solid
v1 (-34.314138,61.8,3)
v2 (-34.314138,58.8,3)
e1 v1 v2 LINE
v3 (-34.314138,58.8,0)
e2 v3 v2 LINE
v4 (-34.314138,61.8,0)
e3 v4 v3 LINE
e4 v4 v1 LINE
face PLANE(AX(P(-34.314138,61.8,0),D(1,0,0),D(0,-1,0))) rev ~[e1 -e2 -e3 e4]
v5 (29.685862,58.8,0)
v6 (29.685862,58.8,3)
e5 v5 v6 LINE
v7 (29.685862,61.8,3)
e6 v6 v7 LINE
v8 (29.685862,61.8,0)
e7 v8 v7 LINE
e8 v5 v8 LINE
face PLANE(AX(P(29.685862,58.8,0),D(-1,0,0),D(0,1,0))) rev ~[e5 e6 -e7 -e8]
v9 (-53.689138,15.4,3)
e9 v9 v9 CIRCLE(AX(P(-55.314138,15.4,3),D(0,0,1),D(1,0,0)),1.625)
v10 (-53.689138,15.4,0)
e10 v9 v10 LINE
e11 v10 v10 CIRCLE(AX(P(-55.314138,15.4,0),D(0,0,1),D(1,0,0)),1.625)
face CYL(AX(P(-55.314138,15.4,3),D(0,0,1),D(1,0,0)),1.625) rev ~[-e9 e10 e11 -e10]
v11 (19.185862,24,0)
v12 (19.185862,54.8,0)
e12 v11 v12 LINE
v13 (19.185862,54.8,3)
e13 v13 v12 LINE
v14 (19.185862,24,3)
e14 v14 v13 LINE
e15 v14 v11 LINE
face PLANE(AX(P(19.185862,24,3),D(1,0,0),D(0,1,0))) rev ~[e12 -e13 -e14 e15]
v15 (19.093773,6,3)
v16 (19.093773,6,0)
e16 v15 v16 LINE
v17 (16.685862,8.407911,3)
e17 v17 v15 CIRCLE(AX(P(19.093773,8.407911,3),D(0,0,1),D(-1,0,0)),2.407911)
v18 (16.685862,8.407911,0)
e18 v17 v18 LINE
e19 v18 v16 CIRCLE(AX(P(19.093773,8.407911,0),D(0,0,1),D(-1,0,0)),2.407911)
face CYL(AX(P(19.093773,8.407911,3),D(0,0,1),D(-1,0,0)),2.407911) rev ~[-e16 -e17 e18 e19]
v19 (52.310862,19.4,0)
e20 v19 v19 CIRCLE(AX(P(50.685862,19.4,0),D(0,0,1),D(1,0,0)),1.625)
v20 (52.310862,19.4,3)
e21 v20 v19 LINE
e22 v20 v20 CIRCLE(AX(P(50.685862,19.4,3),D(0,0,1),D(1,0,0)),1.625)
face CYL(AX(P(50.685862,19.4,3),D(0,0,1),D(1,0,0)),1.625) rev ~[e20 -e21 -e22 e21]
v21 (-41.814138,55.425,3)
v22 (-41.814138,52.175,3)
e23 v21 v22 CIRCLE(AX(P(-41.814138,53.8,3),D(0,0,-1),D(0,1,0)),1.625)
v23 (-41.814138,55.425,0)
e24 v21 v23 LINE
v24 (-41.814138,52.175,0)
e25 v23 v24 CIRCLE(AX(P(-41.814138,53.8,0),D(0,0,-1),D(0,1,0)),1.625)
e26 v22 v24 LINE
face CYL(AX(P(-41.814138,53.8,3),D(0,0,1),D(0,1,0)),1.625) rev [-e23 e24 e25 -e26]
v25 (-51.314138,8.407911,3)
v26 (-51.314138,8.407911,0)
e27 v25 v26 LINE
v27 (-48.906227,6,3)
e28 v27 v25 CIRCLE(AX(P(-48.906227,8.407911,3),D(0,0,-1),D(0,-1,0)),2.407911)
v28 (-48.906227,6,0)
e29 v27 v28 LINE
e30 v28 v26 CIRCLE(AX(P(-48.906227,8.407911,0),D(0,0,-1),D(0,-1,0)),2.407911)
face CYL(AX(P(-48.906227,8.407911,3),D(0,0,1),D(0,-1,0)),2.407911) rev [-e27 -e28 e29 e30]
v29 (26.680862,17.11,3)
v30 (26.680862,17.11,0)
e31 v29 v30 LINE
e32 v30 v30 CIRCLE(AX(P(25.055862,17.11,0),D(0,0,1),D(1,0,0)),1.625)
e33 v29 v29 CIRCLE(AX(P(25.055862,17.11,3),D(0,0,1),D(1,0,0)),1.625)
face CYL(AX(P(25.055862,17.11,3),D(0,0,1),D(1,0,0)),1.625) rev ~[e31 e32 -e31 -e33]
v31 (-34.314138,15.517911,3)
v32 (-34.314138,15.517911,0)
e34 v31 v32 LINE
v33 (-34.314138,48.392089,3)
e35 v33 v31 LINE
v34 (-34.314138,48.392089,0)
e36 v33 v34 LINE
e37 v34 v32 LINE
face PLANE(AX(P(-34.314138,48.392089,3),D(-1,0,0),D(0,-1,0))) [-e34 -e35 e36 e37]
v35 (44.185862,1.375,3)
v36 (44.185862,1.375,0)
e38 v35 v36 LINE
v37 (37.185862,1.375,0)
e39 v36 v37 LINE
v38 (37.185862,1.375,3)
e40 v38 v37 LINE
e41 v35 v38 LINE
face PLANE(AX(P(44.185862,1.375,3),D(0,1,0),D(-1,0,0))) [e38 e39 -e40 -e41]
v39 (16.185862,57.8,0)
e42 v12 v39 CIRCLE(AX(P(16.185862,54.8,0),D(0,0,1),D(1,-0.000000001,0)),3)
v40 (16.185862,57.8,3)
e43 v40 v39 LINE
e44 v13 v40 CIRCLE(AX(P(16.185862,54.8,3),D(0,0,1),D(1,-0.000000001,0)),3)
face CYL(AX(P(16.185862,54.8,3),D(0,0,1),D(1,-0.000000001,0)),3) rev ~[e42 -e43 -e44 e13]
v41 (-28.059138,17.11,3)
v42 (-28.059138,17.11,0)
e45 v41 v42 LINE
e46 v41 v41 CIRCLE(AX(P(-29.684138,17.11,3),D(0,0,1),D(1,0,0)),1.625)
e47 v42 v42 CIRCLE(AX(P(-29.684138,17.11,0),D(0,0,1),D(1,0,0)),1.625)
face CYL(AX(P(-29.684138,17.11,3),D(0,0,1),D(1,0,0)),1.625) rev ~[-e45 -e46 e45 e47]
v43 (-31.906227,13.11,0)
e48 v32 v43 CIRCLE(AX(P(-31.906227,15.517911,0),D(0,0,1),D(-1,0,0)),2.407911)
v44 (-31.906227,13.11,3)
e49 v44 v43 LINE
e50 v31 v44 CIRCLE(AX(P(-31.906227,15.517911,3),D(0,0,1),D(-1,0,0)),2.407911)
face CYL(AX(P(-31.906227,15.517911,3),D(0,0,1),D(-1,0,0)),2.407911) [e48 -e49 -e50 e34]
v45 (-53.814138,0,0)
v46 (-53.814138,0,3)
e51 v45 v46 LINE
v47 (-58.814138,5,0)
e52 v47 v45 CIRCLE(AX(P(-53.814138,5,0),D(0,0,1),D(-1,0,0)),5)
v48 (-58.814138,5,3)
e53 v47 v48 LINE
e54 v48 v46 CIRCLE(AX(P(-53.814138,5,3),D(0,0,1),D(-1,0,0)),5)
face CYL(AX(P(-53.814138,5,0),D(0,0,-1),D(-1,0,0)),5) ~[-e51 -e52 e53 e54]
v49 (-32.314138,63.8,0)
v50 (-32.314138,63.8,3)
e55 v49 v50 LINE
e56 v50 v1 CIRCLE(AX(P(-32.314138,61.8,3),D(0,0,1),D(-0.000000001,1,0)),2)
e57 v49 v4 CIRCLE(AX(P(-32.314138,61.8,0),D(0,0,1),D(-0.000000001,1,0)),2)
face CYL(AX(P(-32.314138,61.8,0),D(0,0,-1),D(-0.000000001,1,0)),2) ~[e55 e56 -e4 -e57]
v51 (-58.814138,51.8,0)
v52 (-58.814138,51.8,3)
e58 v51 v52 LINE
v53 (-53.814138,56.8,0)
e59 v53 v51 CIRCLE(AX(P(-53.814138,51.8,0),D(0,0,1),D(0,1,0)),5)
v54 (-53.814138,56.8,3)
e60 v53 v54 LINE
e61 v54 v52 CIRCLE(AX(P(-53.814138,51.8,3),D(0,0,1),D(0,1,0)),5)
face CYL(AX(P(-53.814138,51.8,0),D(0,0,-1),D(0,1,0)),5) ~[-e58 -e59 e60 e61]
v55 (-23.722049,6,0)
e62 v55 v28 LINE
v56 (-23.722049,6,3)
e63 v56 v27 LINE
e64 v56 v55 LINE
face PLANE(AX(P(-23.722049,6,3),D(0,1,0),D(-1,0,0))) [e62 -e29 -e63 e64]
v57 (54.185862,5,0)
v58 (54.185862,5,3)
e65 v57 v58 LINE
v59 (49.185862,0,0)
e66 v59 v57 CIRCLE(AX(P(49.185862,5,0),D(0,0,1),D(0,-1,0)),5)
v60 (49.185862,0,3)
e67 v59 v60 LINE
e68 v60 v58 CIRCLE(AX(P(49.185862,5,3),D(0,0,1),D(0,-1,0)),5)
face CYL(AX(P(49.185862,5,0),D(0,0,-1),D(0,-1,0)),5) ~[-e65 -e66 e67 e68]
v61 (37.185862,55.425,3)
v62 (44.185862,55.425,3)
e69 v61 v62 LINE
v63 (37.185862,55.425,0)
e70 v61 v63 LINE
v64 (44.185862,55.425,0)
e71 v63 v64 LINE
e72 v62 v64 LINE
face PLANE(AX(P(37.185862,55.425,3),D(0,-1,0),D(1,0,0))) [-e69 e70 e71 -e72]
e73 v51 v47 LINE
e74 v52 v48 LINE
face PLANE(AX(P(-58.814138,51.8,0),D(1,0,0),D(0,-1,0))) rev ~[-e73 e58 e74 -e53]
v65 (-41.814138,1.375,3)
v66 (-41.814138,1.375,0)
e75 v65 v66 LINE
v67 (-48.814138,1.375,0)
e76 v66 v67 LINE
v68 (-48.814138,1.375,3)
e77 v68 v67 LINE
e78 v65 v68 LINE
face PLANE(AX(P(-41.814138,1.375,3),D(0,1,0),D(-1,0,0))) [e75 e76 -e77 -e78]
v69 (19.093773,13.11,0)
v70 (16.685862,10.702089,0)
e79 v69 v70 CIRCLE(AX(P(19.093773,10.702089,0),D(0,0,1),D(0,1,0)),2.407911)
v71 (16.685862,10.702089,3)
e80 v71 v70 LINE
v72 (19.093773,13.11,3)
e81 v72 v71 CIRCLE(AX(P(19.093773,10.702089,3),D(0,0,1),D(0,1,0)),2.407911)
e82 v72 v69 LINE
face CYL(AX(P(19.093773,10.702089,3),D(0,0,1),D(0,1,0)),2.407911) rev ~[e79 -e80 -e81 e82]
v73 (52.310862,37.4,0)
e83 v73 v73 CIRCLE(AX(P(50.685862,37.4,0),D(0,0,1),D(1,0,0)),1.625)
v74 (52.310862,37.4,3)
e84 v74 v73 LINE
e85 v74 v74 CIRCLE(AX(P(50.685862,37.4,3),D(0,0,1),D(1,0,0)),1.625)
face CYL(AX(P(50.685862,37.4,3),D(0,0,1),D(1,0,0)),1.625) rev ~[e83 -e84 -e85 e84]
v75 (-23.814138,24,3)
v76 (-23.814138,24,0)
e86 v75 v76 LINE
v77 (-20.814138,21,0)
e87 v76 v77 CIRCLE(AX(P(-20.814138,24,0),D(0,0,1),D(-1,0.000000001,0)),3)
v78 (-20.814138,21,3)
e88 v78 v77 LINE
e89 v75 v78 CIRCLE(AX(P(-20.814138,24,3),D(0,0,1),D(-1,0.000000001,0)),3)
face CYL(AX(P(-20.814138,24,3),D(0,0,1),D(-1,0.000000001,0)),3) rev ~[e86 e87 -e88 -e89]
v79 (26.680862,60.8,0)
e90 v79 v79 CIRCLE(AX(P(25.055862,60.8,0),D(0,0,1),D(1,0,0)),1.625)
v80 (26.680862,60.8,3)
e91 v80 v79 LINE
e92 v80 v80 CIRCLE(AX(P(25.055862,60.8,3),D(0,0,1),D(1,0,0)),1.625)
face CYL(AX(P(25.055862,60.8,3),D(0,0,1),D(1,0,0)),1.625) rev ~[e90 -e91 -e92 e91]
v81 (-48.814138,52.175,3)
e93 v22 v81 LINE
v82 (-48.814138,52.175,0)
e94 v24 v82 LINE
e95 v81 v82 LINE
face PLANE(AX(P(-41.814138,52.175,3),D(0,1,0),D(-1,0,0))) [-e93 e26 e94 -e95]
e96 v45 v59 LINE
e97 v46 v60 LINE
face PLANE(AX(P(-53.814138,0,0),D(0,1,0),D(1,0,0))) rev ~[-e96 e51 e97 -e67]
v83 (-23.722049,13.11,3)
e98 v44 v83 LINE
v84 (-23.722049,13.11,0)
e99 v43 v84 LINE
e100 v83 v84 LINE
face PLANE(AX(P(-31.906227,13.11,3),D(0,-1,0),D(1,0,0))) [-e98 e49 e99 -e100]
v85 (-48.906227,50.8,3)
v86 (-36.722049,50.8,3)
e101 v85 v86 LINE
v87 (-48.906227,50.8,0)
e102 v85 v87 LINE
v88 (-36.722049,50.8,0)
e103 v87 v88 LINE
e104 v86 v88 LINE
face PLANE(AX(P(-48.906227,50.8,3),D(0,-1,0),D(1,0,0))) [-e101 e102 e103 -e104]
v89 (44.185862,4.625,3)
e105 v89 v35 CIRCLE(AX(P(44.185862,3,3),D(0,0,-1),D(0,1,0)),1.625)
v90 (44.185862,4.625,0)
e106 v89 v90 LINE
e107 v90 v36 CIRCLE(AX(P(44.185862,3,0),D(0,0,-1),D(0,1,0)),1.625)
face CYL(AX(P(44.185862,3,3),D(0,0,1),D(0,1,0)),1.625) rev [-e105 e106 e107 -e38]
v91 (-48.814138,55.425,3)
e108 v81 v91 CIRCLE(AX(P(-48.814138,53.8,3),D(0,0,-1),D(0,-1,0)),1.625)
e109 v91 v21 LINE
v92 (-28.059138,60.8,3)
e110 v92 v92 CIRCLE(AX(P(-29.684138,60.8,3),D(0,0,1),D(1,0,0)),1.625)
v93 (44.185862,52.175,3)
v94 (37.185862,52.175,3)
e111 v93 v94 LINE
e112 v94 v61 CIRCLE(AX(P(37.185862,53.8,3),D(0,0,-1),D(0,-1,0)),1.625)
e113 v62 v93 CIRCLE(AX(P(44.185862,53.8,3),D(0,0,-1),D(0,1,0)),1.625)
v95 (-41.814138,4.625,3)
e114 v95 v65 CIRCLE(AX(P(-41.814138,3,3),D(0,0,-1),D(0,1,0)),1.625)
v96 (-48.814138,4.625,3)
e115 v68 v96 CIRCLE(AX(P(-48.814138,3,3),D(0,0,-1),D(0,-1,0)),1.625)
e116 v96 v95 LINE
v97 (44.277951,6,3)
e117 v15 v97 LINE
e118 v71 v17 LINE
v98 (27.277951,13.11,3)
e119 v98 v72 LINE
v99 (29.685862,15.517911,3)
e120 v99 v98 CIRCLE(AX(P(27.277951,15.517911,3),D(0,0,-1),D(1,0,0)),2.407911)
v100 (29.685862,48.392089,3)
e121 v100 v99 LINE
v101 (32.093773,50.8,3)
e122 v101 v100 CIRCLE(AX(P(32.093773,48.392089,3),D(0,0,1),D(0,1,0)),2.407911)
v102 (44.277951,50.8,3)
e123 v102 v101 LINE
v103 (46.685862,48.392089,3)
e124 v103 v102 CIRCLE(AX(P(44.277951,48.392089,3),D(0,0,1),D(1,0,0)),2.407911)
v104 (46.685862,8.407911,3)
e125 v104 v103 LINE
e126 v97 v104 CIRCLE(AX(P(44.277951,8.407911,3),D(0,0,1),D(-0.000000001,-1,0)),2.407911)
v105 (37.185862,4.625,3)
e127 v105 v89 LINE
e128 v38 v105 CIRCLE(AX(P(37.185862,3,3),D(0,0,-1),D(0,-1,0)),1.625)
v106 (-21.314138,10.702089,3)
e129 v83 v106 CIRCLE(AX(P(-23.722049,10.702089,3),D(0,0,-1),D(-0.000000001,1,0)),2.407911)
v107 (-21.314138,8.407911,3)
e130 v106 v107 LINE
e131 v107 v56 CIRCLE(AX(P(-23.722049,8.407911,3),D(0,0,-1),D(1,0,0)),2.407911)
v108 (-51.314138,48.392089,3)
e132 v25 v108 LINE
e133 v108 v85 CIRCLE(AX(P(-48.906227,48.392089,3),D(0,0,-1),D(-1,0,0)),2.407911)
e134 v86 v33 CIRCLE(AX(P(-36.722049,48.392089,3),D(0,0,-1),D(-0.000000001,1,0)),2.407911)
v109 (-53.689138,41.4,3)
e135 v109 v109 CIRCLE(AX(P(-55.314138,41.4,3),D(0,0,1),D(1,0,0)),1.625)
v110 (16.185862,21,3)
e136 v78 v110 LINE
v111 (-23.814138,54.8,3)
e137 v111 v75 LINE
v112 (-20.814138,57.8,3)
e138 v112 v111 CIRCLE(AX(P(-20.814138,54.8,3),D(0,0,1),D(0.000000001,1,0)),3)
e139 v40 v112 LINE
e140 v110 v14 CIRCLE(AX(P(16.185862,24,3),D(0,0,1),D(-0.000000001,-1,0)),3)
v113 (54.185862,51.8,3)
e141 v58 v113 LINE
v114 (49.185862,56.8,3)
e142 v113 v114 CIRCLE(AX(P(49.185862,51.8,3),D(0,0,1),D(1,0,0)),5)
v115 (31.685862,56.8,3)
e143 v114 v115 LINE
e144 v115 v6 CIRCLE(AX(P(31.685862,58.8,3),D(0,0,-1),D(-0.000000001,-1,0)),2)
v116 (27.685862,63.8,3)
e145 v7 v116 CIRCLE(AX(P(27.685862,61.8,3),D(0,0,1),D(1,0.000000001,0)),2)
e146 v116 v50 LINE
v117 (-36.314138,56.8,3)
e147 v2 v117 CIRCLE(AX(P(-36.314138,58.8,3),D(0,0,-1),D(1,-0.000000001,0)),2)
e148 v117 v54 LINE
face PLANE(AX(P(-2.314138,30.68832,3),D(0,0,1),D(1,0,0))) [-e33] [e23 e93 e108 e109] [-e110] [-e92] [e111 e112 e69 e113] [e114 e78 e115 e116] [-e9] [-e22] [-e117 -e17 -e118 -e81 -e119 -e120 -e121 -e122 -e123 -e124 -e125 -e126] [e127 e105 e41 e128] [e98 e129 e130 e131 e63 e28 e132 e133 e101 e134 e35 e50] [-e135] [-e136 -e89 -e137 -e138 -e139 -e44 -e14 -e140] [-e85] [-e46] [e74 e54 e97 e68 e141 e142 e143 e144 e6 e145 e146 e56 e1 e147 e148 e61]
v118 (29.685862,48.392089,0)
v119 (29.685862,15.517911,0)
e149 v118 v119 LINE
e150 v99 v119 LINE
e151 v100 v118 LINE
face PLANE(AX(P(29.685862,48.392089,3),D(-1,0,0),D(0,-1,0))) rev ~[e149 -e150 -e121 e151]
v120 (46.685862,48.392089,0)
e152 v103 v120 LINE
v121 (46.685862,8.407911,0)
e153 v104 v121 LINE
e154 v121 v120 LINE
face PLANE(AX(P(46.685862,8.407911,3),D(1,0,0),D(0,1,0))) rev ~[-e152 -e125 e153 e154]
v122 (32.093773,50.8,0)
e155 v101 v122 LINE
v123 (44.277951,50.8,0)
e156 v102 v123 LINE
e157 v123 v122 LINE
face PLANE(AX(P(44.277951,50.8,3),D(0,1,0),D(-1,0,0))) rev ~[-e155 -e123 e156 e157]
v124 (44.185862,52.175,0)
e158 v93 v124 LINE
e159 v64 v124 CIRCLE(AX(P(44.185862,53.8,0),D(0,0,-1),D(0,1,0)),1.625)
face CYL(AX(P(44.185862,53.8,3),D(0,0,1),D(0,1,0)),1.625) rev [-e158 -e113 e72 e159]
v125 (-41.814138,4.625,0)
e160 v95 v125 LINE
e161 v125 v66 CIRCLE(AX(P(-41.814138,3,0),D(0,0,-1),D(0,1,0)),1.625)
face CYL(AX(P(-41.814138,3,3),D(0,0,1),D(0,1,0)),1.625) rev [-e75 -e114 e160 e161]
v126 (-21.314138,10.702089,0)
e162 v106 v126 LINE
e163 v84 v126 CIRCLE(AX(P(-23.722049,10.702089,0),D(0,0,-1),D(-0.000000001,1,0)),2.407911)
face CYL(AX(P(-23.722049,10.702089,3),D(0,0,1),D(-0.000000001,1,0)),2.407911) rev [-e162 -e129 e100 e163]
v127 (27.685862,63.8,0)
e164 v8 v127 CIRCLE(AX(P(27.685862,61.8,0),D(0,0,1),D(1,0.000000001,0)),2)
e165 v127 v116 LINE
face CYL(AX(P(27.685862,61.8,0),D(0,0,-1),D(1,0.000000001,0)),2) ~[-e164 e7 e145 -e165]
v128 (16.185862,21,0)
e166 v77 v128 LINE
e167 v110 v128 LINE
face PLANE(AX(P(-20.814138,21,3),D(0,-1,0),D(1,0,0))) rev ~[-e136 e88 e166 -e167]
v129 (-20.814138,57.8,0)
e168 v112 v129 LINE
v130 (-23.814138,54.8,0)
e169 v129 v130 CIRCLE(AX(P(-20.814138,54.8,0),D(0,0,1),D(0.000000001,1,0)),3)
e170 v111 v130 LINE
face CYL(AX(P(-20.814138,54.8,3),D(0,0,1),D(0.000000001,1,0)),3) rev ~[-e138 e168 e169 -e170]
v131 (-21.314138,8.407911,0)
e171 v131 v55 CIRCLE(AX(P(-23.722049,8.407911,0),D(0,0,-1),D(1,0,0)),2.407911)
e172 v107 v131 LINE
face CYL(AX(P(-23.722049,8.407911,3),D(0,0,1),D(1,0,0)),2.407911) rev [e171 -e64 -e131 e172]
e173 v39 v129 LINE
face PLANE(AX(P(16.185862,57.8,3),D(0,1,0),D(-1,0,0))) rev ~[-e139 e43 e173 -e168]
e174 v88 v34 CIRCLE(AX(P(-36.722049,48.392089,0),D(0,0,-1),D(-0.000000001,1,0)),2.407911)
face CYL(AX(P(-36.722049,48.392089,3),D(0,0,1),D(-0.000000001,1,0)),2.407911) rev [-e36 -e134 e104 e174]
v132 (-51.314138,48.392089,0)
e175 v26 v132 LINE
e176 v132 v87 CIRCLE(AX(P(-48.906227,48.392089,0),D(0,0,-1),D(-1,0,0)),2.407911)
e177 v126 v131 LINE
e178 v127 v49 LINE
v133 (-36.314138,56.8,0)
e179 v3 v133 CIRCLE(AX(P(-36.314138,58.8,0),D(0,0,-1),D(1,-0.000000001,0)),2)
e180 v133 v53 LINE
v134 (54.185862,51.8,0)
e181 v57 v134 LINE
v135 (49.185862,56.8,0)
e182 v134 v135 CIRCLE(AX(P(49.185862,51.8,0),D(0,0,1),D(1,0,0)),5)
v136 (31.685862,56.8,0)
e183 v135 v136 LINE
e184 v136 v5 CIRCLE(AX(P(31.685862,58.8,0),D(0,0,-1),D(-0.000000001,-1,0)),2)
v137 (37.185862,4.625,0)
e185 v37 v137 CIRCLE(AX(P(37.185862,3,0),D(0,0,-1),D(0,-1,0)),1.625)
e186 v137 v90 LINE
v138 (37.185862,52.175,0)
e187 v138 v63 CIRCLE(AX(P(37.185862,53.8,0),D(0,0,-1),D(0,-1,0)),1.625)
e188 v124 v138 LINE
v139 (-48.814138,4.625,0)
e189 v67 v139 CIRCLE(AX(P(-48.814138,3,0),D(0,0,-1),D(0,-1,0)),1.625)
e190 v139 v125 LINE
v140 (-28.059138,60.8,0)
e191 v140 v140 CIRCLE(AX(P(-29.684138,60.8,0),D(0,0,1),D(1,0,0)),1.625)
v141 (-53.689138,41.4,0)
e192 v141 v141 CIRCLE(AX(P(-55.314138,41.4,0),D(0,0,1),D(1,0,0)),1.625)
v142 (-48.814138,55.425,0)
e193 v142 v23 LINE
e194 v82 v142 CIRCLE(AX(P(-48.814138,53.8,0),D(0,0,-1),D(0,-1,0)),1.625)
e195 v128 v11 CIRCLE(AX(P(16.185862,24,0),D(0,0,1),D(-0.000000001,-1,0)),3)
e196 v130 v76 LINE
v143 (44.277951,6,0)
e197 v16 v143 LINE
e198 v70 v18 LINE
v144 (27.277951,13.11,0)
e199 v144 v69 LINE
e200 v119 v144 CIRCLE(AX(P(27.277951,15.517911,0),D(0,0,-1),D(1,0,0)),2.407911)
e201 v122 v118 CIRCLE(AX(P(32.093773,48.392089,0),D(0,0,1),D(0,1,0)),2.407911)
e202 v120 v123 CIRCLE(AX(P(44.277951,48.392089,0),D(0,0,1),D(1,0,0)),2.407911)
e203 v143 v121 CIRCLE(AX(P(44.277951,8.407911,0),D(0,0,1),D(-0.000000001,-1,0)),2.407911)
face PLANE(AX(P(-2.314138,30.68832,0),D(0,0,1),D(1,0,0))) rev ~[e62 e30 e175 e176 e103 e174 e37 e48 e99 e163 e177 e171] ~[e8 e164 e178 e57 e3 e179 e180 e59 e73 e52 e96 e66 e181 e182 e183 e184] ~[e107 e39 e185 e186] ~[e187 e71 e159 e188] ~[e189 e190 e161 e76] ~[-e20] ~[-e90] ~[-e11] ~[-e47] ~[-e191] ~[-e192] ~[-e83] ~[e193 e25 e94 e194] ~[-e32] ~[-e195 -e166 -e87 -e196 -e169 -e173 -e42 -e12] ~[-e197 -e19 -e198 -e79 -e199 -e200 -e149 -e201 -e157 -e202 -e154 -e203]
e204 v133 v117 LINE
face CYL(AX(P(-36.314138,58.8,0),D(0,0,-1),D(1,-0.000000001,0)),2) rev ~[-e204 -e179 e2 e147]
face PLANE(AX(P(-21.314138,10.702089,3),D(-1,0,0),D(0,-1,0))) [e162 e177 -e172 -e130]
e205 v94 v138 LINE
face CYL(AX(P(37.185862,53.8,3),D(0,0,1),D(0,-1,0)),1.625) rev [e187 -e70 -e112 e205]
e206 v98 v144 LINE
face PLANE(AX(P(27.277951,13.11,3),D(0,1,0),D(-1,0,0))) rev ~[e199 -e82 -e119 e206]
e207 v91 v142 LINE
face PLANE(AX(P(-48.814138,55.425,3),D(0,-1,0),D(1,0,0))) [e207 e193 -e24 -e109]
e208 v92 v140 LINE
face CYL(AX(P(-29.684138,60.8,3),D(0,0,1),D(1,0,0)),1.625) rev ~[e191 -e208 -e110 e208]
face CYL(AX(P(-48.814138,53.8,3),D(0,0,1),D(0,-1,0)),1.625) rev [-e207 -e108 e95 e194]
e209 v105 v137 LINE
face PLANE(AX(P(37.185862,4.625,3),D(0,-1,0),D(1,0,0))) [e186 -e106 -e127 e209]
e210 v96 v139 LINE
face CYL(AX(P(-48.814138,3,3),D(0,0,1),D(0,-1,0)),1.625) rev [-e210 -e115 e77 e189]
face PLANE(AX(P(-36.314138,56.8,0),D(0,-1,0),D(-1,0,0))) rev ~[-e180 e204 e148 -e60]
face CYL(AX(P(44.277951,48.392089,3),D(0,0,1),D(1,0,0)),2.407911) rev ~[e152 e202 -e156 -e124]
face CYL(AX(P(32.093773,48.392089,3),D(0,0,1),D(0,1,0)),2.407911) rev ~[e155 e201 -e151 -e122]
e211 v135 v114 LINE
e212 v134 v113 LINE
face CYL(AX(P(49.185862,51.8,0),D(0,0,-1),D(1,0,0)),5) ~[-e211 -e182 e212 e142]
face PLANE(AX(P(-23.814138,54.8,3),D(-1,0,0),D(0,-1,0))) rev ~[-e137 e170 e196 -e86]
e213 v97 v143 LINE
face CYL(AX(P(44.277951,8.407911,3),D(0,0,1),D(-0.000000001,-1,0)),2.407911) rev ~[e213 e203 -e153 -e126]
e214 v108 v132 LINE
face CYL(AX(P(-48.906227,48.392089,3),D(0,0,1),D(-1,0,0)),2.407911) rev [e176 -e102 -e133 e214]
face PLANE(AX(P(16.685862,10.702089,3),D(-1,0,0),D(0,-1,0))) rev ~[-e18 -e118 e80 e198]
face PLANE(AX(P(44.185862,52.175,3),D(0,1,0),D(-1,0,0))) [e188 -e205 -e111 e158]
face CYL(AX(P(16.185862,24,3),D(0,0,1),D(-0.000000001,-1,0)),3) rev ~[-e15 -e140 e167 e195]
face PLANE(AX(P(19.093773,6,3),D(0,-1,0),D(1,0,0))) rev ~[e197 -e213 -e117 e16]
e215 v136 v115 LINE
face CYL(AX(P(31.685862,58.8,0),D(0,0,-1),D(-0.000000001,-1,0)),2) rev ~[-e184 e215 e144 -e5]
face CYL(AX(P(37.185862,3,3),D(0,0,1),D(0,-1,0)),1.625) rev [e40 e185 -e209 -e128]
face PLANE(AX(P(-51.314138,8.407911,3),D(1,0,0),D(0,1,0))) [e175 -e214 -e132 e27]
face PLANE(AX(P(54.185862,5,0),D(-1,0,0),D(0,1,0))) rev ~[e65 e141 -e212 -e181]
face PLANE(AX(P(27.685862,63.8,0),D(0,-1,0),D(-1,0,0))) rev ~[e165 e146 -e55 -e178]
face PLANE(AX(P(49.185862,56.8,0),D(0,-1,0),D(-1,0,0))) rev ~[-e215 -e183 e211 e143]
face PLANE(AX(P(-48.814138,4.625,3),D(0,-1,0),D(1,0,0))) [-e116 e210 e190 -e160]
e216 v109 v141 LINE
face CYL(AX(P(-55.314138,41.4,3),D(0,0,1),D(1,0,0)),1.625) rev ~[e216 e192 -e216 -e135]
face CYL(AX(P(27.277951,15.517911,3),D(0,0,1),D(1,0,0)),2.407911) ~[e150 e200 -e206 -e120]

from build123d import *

# Parameters (mm, degrees)
EXTRUDE_2_DEPTH     = 3
SKETCH_5_R          = 1.625
CUT_EXTRUDE_3_DEPTH = 3


with BuildPart() as part:
    # 草图1 → 凸台-拉伸2 (new body)
    with BuildSketch(Plane.XY):
        with BuildLine():
            Line((-53.814137931, 0), (49.185862069, 0))
            ThreePointArc((49.185862069, 0), (52.721395975, 1.464466094), (54.185862069, 5))
            Line((54.185862069, 5), (54.185862069, 51.8))
            ThreePointArc((54.185862069, 51.8), (52.721395975, 55.335533906), (49.185862069, 56.8))
            Line((49.185862069, 56.8), (31.685862069, 56.8))
            ThreePointArc((31.685862069, 56.8), (30.271648507, 57.385786438), (29.685862069, 58.8))
            Line((29.685862069, 58.8), (29.685862069, 61.8))
            ThreePointArc((29.685862069, 61.8), (29.100075631, 63.214213562), (27.685862069, 63.8))
            Line((27.685862069, 63.8), (-32.314137931, 63.8))
            ThreePointArc((-32.314137931, 63.8), (-33.728351493, 63.214213562), (-34.314137931, 61.8))
            Line((-34.314137931, 61.8), (-34.314137931, 58.8))
            ThreePointArc((-34.314137931, 58.8), (-34.899924369, 57.385786438), (-36.314137931, 56.8))
            Line((-36.314137931, 56.8), (-53.814137931, 56.8))
            ThreePointArc((-53.814137931, 56.8), (-57.349671837, 55.335533906), (-58.814137931, 51.8))
            Line((-58.814137931, 51.8), (-58.814137931, 5))
            ThreePointArc((-58.814137931, 5), (-57.349671837, 1.464466094), (-53.814137931, 0))
        make_face()
    extrude(amount=EXTRUDE_2_DEPTH)

    # 草图5 → 切除-拉伸3 (cut)
    with BuildSketch(Plane.XY.offset(3)):
        with Locations((-29.684137931, 60.8)):
            Circle(SKETCH_5_R)
        with Locations((25.055862069, 60.8)):
            Circle(SKETCH_5_R)
        with Locations((-29.684137931, 17.11)):
            Circle(SKETCH_5_R)
        with Locations((25.055862069, 17.11)):
            Circle(SKETCH_5_R)
        with Locations((-55.314137931, 15.4)):
            Circle(SKETCH_5_R)
        with Locations((-55.314137931, 41.4)):
            Circle(SKETCH_5_R)
        with Locations((50.685862069, 37.4)):
            Circle(SKETCH_5_R)
        with Locations((50.685862069, 19.4)):
            Circle(SKETCH_5_R)
        with BuildLine():
            Line((-48.906226665, 50.8), (-36.722049198, 50.8))
            ThreePointArc((-36.722049198, 50.8), (-35.019398812, 50.094739119), (-34.314137931, 48.392088734))
            Line((-34.314137931, 48.392088734), (-34.314137931, 15.517911266))
            ThreePointArc((-34.314137931, 15.517911266), (-33.60887705, 13.815260881), (-31.906226665, 13.11))
            Line((-31.906226665, 13.11), (-23.722049198, 13.11))
            ThreePointArc((-23.722049198, 13.11), (-22.019398812, 12.404739119), (-21.314137931, 10.702088734))
            Line((-21.314137931, 10.702088734), (-21.314137931, 8.407911266))
            ThreePointArc((-21.314137931, 8.407911266), (-22.019398812, 6.705260881), (-23.722049198, 6))
            Line((-23.722049198, 6), (-48.906226665, 6))
            ThreePointArc((-48.906226665, 6), (-50.60887705, 6.705260881), (-51.314137931, 8.407911266))
            Line((-51.314137931, 8.407911266), (-51.314137931, 48.392088734))
            ThreePointArc((-51.314137931, 48.392088734), (-50.60887705, 50.094739119), (-48.906226665, 50.8))
        make_face()
        with BuildLine():
            Line((-48.814137931, 4.625), (-41.814137931, 4.625))
            ThreePointArc((-41.814137931, 4.625), (-40.189137931, 3), (-41.814137931, 1.375))
            Line((-41.814137931, 1.375), (-48.814137931, 1.375))
            ThreePointArc((-48.814137931, 1.375), (-50.439137931, 3), (-48.814137931, 4.625))
        make_face()
        with BuildLine():
            Line((37.185862069, 4.625), (44.185862069, 4.625))
            ThreePointArc((44.185862069, 4.625), (45.810862069, 3), (44.185862069, 1.375))
            Line((44.185862069, 1.375), (37.185862069, 1.375))
            ThreePointArc((37.185862069, 1.375), (35.560862069, 3), (37.185862069, 4.625))
        make_face()
        with BuildLine():
            Line((-48.814137931, 55.425), (-41.814137931, 55.425))
            ThreePointArc((-41.814137931, 55.425), (-40.189137931, 53.8), (-41.814137931, 52.175))
            Line((-41.814137931, 52.175), (-48.814137931, 52.175))
            ThreePointArc((-48.814137931, 52.175), (-50.439137931, 53.8), (-48.814137931, 55.425))
        make_face()
        with BuildLine():
            Line((37.185862069, 55.425), (44.185862069, 55.425))
            ThreePointArc((44.185862069, 55.425), (45.810862069, 53.8), (44.185862069, 52.175))
            Line((44.185862069, 52.175), (37.185862069, 52.175))
            ThreePointArc((37.185862069, 52.175), (35.560862069, 53.8), (37.185862069, 55.425))
        make_face()
        with BuildLine():
            Line((29.685862069, 48.392088734), (29.685862069, 15.517911266))
            ThreePointArc((29.685862069, 15.517911266), (28.980601188, 13.815260881), (27.277950802, 13.11))
            Line((27.277950802, 13.11), (19.093773335, 13.11))
            ThreePointArc((19.093773335, 13.11), (17.39112295, 12.404739119), (16.685862069, 10.702088734))
            Line((16.685862069, 10.702088734), (16.685862069, 8.407911266))
            ThreePointArc((16.685862069, 8.407911266), (17.39112295, 6.705260881), (19.093773335, 6))
            Line((19.093773335, 6), (44.277950802, 6))
            ThreePointArc((44.277950802, 6), (45.980601188, 6.705260881), (46.685862069, 8.407911266))
            Line((46.685862069, 8.407911266), (46.685862069, 48.392088734))
            ThreePointArc((46.685862069, 48.392088734), (45.980601188, 50.094739119), (44.277950802, 50.8))
            Line((44.277950802, 50.8), (32.093773335, 50.8))
            ThreePointArc((32.093773335, 50.8), (30.39112295, 50.094739119), (29.685862069, 48.392088734))
        make_face()
        with BuildLine():
            Line((-23.814137931, 54.8), (-23.814137931, 24))
            ThreePointArc((-23.814137931, 24), (-22.935458275, 21.878679656), (-20.814137931, 21))
            Line((-20.814137931, 21), (16.185862069, 21))
            ThreePointArc((16.185862069, 21), (18.307182413, 21.878679656), (19.185862069, 24))
            Line((19.185862069, 24), (19.185862069, 54.8))
            ThreePointArc((19.185862069, 54.8), (18.307182413, 56.921320344), (16.185862069, 57.8))
            Line((16.185862069, 57.8), (-20.814137931, 57.8))
            ThreePointArc((-20.814137931, 57.8), (-22.935458275, 56.921320344), (-23.814137931, 54.8))
        make_face()
    extrude(amount=-CUT_EXTRUDE_3_DEPTH, mode=Mode.SUBTRACT)


solid = part.part
